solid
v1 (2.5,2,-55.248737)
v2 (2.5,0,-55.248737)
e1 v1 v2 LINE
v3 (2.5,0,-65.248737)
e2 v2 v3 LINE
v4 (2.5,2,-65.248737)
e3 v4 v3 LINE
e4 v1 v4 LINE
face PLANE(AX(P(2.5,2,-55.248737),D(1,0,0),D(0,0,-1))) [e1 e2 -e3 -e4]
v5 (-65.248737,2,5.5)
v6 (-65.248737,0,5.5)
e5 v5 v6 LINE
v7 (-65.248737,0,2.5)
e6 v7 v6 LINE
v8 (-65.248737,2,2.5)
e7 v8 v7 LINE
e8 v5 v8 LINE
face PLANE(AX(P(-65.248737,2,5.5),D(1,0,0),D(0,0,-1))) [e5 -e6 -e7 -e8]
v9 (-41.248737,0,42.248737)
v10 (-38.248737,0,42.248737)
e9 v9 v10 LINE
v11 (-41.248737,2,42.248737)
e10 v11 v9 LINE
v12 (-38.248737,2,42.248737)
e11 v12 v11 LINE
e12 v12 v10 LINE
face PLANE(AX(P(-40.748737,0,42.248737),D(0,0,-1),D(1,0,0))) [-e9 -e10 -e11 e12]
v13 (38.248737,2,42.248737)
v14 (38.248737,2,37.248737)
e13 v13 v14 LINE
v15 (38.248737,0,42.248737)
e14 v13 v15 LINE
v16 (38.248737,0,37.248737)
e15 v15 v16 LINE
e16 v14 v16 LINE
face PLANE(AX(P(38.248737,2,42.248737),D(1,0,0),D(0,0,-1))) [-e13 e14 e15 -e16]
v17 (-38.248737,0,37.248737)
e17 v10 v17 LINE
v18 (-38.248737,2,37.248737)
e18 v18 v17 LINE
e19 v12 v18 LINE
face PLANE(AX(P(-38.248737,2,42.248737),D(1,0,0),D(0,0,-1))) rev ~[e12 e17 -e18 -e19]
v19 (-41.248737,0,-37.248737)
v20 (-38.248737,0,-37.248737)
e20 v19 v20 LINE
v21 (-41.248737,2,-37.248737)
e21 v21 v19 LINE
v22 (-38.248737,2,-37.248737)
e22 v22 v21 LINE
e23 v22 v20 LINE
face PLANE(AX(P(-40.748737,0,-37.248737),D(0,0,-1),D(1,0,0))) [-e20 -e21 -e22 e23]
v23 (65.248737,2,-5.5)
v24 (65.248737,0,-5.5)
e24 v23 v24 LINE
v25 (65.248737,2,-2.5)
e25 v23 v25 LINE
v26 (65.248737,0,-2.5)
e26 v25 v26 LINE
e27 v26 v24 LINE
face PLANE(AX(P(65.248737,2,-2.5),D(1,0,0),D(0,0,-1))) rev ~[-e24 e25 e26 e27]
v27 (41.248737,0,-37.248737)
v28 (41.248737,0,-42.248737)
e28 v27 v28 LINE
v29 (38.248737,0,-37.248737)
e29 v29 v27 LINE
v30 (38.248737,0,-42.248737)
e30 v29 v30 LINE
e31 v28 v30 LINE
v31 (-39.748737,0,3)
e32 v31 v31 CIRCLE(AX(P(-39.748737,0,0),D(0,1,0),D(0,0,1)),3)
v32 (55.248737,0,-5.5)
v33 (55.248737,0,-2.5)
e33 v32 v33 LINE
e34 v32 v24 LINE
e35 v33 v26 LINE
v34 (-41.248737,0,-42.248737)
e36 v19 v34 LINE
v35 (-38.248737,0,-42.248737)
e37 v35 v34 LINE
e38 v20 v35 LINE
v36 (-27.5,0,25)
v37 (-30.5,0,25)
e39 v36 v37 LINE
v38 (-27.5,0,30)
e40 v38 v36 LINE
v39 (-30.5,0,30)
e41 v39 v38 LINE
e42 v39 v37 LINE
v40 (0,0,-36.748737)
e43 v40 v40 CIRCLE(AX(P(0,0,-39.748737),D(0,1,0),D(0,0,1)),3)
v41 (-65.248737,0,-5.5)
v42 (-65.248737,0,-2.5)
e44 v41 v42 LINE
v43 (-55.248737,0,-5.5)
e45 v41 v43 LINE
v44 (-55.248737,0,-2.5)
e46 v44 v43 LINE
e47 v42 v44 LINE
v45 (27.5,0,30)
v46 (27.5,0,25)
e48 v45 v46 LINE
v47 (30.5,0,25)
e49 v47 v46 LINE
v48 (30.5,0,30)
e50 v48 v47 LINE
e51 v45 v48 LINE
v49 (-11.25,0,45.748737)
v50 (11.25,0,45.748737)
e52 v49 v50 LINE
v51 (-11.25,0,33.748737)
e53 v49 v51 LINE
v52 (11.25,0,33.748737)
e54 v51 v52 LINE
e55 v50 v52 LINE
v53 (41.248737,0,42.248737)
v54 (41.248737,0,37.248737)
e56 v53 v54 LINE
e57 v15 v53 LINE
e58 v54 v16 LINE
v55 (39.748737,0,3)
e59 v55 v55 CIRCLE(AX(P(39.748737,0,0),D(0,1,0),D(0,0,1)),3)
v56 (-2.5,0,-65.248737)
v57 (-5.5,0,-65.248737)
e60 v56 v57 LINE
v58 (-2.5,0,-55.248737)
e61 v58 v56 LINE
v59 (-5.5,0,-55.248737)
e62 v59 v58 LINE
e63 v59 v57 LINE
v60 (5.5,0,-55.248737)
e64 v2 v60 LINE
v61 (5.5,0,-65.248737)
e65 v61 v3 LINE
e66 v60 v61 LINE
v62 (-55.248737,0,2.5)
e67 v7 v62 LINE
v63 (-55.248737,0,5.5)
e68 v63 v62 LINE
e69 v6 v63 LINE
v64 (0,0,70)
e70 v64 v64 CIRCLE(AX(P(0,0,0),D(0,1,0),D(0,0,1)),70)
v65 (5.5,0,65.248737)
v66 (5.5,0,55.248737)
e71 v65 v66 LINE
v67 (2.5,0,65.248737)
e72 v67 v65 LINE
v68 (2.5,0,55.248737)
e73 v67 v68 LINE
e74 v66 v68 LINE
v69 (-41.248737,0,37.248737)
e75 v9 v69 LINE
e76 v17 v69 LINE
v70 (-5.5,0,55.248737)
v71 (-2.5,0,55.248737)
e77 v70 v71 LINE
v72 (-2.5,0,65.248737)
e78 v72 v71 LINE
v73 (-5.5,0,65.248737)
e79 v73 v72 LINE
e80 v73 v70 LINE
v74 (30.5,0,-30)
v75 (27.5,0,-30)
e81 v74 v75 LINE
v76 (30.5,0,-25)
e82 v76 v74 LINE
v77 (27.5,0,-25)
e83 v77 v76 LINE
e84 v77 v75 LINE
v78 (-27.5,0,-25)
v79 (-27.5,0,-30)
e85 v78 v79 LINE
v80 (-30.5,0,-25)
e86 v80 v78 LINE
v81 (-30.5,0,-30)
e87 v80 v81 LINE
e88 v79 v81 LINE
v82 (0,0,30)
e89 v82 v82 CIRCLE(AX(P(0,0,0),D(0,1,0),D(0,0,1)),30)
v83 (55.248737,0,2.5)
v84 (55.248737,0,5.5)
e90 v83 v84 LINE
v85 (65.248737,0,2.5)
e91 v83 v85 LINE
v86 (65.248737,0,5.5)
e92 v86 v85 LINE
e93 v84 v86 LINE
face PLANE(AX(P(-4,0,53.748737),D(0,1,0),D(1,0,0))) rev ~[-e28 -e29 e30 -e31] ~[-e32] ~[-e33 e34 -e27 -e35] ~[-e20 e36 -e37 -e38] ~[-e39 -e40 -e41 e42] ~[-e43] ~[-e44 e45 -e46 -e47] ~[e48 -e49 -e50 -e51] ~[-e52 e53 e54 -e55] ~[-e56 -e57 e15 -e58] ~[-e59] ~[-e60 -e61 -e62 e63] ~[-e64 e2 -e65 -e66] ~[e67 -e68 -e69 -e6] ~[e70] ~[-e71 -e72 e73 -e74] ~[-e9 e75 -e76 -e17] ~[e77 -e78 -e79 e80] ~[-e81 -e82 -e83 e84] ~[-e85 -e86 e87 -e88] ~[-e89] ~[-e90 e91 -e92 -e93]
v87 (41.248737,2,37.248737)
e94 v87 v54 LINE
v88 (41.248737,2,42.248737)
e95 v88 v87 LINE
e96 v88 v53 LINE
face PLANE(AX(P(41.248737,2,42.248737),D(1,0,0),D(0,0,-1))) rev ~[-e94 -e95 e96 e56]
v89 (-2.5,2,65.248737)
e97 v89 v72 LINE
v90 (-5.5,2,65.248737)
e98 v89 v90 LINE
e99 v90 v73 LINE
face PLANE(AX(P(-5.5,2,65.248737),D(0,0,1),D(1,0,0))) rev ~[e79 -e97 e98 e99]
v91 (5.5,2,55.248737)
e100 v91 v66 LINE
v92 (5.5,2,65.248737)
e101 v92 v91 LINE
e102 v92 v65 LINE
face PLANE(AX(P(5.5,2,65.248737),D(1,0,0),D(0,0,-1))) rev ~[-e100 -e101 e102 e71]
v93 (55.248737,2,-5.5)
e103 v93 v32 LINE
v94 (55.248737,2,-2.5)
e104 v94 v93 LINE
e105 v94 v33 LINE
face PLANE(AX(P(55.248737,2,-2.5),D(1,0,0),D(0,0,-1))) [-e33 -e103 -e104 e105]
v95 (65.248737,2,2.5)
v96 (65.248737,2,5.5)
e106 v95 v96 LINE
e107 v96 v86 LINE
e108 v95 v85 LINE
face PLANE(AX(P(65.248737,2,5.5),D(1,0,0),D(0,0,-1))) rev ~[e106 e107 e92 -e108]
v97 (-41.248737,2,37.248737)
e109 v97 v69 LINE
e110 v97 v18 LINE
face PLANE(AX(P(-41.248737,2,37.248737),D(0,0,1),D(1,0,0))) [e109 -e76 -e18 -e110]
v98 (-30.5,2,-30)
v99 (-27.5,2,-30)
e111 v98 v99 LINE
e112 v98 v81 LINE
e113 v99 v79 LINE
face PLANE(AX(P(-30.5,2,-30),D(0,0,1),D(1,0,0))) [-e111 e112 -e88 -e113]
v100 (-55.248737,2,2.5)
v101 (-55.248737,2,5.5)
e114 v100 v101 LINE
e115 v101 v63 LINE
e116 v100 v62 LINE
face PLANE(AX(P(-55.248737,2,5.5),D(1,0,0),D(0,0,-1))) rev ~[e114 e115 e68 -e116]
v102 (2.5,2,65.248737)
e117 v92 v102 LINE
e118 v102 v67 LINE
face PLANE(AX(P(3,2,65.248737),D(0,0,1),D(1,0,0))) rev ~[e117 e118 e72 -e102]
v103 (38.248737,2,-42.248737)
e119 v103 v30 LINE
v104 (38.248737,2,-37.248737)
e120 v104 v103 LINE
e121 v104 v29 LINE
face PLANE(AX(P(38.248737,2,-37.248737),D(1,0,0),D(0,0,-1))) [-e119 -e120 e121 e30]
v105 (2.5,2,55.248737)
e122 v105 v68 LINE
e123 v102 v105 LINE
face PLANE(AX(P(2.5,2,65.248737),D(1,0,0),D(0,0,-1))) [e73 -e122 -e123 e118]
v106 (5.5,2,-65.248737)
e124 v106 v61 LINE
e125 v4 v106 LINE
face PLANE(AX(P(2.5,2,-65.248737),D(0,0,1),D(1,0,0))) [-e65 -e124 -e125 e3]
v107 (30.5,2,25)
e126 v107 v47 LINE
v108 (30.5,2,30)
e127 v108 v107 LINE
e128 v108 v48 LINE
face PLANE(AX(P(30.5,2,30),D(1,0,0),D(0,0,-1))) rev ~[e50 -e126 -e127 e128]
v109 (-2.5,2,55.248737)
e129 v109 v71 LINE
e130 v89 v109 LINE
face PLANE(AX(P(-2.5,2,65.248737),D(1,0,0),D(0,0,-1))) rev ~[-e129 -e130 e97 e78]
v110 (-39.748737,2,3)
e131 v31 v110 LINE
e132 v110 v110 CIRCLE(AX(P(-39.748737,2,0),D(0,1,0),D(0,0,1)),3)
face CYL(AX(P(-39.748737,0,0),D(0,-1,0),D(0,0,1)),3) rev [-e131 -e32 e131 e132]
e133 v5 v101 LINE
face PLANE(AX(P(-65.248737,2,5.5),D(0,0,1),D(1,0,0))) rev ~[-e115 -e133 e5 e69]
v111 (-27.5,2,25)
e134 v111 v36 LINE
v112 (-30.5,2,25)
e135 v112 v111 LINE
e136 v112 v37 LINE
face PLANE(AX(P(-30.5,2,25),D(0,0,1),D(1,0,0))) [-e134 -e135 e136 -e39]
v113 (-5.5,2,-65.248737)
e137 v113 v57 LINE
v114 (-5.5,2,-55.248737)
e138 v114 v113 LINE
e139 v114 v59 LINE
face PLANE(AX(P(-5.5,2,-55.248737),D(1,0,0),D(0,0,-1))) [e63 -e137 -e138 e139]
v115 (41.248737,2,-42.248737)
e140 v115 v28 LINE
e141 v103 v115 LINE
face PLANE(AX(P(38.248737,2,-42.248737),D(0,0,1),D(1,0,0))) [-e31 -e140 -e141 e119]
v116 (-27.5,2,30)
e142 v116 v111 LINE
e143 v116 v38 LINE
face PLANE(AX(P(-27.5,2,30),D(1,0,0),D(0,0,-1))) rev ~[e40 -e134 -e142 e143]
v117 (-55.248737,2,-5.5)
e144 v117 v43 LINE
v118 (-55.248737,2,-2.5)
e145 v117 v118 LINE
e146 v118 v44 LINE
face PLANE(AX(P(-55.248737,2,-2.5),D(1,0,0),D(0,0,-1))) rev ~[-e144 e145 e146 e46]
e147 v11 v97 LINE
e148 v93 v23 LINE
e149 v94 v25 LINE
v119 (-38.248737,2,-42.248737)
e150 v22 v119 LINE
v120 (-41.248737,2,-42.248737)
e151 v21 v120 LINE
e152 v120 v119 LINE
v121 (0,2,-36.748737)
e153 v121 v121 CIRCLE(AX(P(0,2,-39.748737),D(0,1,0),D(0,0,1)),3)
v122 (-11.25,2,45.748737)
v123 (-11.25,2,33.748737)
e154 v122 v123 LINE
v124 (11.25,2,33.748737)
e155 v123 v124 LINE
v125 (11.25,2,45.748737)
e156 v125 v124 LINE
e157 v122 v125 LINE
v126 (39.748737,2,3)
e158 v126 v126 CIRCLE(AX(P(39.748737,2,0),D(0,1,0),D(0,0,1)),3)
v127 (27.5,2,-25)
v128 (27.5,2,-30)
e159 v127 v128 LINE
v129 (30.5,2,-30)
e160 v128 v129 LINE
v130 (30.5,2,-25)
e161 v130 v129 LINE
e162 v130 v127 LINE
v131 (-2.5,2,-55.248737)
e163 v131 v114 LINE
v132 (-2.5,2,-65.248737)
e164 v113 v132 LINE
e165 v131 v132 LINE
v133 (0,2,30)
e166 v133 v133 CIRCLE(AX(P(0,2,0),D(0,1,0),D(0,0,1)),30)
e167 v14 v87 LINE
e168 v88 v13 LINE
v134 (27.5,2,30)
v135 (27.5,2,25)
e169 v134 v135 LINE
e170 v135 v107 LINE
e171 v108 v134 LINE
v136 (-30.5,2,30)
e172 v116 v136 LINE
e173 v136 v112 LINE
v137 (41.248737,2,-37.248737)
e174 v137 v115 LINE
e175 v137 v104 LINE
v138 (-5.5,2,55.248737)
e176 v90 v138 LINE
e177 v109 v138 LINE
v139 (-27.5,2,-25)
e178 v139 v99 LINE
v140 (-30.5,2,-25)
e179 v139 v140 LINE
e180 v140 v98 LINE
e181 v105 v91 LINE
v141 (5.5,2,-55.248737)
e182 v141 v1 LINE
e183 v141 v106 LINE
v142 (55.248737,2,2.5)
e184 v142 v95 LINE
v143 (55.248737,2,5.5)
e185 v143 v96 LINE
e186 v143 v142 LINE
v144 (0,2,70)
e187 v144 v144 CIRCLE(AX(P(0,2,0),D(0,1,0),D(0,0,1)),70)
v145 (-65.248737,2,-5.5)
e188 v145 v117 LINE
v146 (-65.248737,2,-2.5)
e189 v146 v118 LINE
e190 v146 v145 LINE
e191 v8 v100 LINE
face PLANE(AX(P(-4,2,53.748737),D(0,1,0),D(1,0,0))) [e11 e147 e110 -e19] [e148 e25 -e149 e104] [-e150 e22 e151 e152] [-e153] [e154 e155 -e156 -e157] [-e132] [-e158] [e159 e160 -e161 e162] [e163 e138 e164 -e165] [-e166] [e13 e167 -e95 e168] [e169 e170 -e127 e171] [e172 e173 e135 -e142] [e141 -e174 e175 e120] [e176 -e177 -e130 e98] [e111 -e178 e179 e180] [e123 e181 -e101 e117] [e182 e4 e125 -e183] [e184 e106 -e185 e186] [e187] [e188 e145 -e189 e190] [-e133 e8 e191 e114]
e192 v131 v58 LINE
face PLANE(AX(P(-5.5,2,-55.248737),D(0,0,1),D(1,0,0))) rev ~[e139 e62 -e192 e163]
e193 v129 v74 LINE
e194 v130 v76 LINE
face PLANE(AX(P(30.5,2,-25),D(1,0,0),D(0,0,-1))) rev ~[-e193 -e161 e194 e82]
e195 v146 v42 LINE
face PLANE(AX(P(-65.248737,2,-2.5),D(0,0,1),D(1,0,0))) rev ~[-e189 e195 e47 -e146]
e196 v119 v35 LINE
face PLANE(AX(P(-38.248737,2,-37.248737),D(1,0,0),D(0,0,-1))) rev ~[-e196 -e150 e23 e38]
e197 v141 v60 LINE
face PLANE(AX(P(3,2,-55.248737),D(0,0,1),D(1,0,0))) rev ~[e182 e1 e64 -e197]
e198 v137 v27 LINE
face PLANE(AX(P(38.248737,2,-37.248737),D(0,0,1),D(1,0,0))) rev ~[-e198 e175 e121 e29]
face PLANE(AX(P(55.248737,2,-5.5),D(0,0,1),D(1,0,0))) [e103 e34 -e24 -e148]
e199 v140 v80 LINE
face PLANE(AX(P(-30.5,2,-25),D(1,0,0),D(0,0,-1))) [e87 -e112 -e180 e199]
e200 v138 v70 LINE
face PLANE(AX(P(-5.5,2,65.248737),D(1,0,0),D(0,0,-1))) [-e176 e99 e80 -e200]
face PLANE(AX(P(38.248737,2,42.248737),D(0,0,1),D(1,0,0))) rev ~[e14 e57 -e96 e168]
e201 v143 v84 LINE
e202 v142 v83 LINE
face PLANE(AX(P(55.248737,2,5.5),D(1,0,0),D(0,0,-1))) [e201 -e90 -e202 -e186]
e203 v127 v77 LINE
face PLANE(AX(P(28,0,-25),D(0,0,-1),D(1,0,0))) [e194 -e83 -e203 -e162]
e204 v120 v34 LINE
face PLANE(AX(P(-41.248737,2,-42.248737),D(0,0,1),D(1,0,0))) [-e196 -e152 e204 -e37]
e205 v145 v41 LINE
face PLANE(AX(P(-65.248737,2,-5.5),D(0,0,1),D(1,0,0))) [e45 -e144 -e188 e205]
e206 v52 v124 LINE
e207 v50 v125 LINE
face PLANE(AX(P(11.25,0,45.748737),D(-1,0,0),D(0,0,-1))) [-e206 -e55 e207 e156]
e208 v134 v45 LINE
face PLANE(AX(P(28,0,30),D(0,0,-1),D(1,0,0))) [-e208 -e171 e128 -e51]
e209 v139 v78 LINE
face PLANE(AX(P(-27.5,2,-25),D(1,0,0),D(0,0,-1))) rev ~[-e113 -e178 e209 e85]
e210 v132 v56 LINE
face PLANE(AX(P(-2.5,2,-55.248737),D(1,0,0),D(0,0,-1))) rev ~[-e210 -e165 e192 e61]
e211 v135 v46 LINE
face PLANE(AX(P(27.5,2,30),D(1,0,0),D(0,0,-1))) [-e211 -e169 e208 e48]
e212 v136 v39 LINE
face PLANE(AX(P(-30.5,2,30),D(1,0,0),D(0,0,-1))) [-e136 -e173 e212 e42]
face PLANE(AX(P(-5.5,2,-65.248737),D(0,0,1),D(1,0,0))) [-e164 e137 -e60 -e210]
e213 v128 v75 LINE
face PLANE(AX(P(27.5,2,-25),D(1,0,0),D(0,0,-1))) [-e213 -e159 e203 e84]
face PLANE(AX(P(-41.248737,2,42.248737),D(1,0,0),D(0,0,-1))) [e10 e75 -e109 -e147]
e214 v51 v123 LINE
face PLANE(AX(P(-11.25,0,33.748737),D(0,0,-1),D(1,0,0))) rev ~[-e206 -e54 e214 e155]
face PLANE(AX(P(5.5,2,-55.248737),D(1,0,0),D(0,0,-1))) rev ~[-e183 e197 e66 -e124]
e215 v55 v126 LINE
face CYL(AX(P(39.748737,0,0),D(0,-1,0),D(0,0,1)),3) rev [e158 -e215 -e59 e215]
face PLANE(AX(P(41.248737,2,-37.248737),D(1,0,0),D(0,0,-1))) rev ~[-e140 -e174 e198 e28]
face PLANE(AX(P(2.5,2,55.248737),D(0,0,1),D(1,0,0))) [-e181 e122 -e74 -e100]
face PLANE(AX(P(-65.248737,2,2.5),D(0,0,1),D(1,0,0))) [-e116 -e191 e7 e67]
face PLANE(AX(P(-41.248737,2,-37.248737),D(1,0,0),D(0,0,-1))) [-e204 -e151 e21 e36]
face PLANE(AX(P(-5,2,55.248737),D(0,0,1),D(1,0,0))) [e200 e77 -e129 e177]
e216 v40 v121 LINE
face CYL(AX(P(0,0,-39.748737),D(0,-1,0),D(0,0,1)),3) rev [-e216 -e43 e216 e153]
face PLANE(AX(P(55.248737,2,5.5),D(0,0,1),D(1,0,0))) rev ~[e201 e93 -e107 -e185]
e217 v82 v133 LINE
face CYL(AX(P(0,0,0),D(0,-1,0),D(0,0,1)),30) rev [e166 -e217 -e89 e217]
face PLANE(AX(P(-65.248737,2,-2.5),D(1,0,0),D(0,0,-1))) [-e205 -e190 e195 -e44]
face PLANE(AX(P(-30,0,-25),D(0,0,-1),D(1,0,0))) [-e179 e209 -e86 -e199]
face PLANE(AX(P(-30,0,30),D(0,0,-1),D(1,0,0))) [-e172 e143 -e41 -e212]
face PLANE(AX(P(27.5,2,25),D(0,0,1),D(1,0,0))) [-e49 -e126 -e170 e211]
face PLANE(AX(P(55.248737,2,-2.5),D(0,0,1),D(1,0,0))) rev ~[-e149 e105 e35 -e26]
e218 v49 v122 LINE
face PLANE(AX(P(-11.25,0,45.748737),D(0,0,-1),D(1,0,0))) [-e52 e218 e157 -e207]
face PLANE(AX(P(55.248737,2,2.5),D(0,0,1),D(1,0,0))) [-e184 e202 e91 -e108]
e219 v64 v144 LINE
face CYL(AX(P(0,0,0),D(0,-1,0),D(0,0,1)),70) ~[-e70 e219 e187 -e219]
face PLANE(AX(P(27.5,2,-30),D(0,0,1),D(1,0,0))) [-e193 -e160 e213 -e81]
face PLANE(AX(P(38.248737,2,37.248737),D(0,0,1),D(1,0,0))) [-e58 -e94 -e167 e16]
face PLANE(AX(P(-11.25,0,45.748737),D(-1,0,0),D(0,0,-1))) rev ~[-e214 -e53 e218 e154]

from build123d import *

# Parameters (mm, degrees)
SKETCH1_R                   = 70
SKETCH1_R_2                 = 30
SKETCH1_R_3                 = 3
SKETCH1_W                   = 2
SKETCH1_H                   = 5
SKETCH1_W_2                 = 22.5
SKETCH1_H_2                 = 12
SKETCH1_W_3                 = 5
SKETCH1_H_3                 = 2
Y_KSEKLIK_EKSTR_ZYON1_DEPTH = 2
SKETCH3_W                   = 2
SKETCH3_H                   = 2
SKETCH3_W_2                 = 3
BOSS_EXTRUDE1_DEPTH         = 2
SKETCH5_W                   = 5
SKETCH5_H                   = 2
CUT_EXTRUDE1_DEPTH          = 2
SKETCH6_W                   = 2
SKETCH6_H                   = 2
SKETCH6_W_2                 = 3
BOSS_EXTRUDE3_DEPTH         = 2
SKETCH8_W                   = 5
SKETCH8_H                   = 2
CUT_EXTRUDE2_DEPTH          = 2
SKETCH9_W                   = 2
SKETCH9_H                   = 2
SKETCH9_H_2                 = 3
BOSS_EXTRUDE4_DEPTH         = 2
SKETCH10_W                  = 2
SKETCH10_H                  = 2
SKETCH10_H_2                = 3
BOSS_EXTRUDE5_DEPTH         = 2
SKETCH12_W                  = 2
SKETCH12_H                  = 5
CUT_EXTRUDE4_DEPTH          = 2
SKETCH13_W                  = 2
SKETCH13_H                  = 5
CUT_EXTRUDE5_DEPTH          = 2
SKETCH14_W                  = 3
SKETCH14_H                  = 2
SKETCH14_W_2                = 2
BOSS_EXTRUDE6_DEPTH         = 2
SKETCH15_W                  = 5
SKETCH15_H                  = 2
CUT_EXTRUDE6_DEPTH          = 2
SKETCH16_W                  = 3
SKETCH16_H                  = 2
SKETCH16_W_2                = 2
BOSS_EXTRUDE9_DEPTH         = 2
SKETCH17_W                  = 5
SKETCH17_H                  = 2
CUT_EXTRUDE7_DEPTH          = 2
SKETCH18_W                  = 2
SKETCH18_H                  = 3
SKETCH18_H_2                = 2
BOSS_EXTRUDE10_DEPTH        = 2
SKETCH19_W                  = 2
SKETCH19_H                  = 5
CUT_EXTRUDE8_DEPTH          = 2
SKETCH20_W                  = 3
SKETCH20_H                  = 10
SKETCH20_W_2                = 10
SKETCH20_H_2                = 3
SKETCH20_H_3                = 5
CUT_EXTRUDE9_DEPTH          = 2


with BuildPart() as part:
    # Sketch1 → Yükseklik-Ekstrüzyon1 (new body)
    with BuildSketch(Plane(origin=(0, 0, 0), x_dir=(1, 0, 0), z_dir=(0, 1, 0))):
        with Locations(Location((0, 0, 0), (0, 0, 270))):
            Circle(SKETCH1_R)
        with Locations(Location((0, 0, 0), (0, 0, 270))):
            Circle(SKETCH1_R_2, mode=Mode.SUBTRACT)
        with Locations(Location((39.748737342, 0, 0), (0, 0, 270))):
            Circle(SKETCH1_R_3, mode=Mode.SUBTRACT)
        with Locations(Location((-39.748737342, 0, 0), (0, 0, 270))):
            Circle(SKETCH1_R_3, mode=Mode.SUBTRACT)
        with Locations(Location((0, 39.748737342, 0), (0, 0, 270))):
            Circle(SKETCH1_R_3, mode=Mode.SUBTRACT)
        with Locations((-29, 27.5)):
            Rectangle(SKETCH1_W, SKETCH1_H, mode=Mode.SUBTRACT)
        with Locations((29, 27.5)):
            Rectangle(SKETCH1_W, SKETCH1_H, mode=Mode.SUBTRACT)
        with Locations((-29, -27.5)):
            Rectangle(SKETCH1_W, SKETCH1_H, mode=Mode.SUBTRACT)
        with Locations((29, -27.5)):
            Rectangle(SKETCH1_W, SKETCH1_H, mode=Mode.SUBTRACT)
        with Locations((-39.748737342, 39.748737342)):
            Rectangle(SKETCH1_W, SKETCH1_H, mode=Mode.SUBTRACT)
        with Locations((39.748737342, 39.748737342)):
            Rectangle(SKETCH1_W, SKETCH1_H, mode=Mode.SUBTRACT)
        with Locations((39.748737342, -39.748737342)):
            Rectangle(SKETCH1_W, SKETCH1_H, mode=Mode.SUBTRACT)
        with Locations((-39.748737342, -39.748737342)):
            Rectangle(SKETCH1_W, SKETCH1_H, mode=Mode.SUBTRACT)
        with Locations((0, -39.748737342)):
            Rectangle(SKETCH1_W_2, SKETCH1_H_2, mode=Mode.SUBTRACT)
        with Locations((-64.748737342, 4)):
            Rectangle(SKETCH1_W_3, SKETCH1_H_3, mode=Mode.SUBTRACT)
        with Locations((-64.748737342, -4)):
            Rectangle(SKETCH1_W_3, SKETCH1_H_3, mode=Mode.SUBTRACT)
        with Locations((-54.748737342, -4)):
            Rectangle(SKETCH1_W_3, SKETCH1_H_3, mode=Mode.SUBTRACT)
        with Locations((-54.748737342, 4)):
            Rectangle(SKETCH1_W_3, SKETCH1_H_3, mode=Mode.SUBTRACT)
        with Locations((-4, 64.748737342)):
            Rectangle(SKETCH1_W, SKETCH1_H, mode=Mode.SUBTRACT)
        with Locations((-4, 54.748737342)):
            Rectangle(SKETCH1_W, SKETCH1_H, mode=Mode.SUBTRACT)
        with Locations((4, 54.748737342)):
            Rectangle(SKETCH1_W, SKETCH1_H, mode=Mode.SUBTRACT)
        with Locations((4, 64.748737342)):
            Rectangle(SKETCH1_W, SKETCH1_H, mode=Mode.SUBTRACT)
        with Locations((54.748737342, 4)):
            Rectangle(SKETCH1_W_3, SKETCH1_H_3, mode=Mode.SUBTRACT)
        with Locations((54.748737342, -4)):
            Rectangle(SKETCH1_W_3, SKETCH1_H_3, mode=Mode.SUBTRACT)
        with Locations((64.748737342, 4)):
            Rectangle(SKETCH1_W_3, SKETCH1_H_3, mode=Mode.SUBTRACT)
        with Locations((64.748737342, -4)):
            Rectangle(SKETCH1_W_3, SKETCH1_H_3, mode=Mode.SUBTRACT)
        with Locations((-4, -54.748737342)):
            Rectangle(SKETCH1_W, SKETCH1_H, mode=Mode.SUBTRACT)
        with Locations((4, -54.748737342)):
            Rectangle(SKETCH1_W, SKETCH1_H, mode=Mode.SUBTRACT)
        with Locations((4, -64.748737342)):
            Rectangle(SKETCH1_W, SKETCH1_H, mode=Mode.SUBTRACT)
        with Locations((-4, -64.748737342)):
            Rectangle(SKETCH1_W, SKETCH1_H, mode=Mode.SUBTRACT)
    extrude(amount=Y_KSEKLIK_EKSTR_ZYON1_DEPTH)

    # Sketch3 → Boss-Extrude1 (add)
    with BuildSketch(Plane(origin=(0, 2, 0), x_dir=(1, 0, 0), z_dir=(0, 1, 0))):
        with Locations((-66.248737342, 4)):
            Rectangle(SKETCH3_W, SKETCH3_H)
        with Locations((-53.748737342, 4)):
            Rectangle(SKETCH3_W_2, SKETCH3_H)
    extrude(amount=-BOSS_EXTRUDE1_DEPTH)

    # Sketch5 → Cut-Extrude1 (cut)
    with BuildSketch(Plane(origin=(0, 2, 0), x_dir=(1, 0, 0), z_dir=(0, 1, 0))):
        with Locations((-59.748737342, 4)):
            Rectangle(SKETCH5_W, SKETCH5_H)
    extrude(amount=-CUT_EXTRUDE1_DEPTH, mode=Mode.SUBTRACT)

    # Sketch6 → Boss-Extrude3 (add)
    with BuildSketch(Plane(origin=(0, 2, 0), x_dir=(1, 0, 0), z_dir=(0, 1, 0))):
        with Locations((-66.248737342, -4)):
            Rectangle(SKETCH6_W, SKETCH6_H)
        with Locations((-53.748737342, -4)):
            Rectangle(SKETCH6_W_2, SKETCH6_H)
    extrude(amount=-BOSS_EXTRUDE3_DEPTH)

    # Sketch8 → Cut-Extrude2 (cut)
    with BuildSketch(Plane(origin=(0, 2, 0), x_dir=(1, 0, 0), z_dir=(0, 1, 0))):
        with Locations((-59.748737342, -4)):
            Rectangle(SKETCH8_W, SKETCH8_H)
    extrude(amount=-CUT_EXTRUDE2_DEPTH, mode=Mode.SUBTRACT)

    # Sketch9 → Boss-Extrude4 (add)
    with BuildSketch(Plane(origin=(0, 2, 0), x_dir=(1, 0, 0), z_dir=(0, 1, 0))):
        with Locations((4, 66.248737342)):
            Rectangle(SKETCH9_W, SKETCH9_H)
        with Locations((4, 53.748737342)):
            Rectangle(SKETCH9_W, SKETCH9_H_2)
    extrude(amount=-BOSS_EXTRUDE4_DEPTH)

    # Sketch10 → Boss-Extrude5 (add)
    with BuildSketch(Plane(origin=(0, 2, 0), x_dir=(1, 0, 0), z_dir=(0, 1, 0))):
        with Locations((-4, 66.248737342)):
            Rectangle(SKETCH10_W, SKETCH10_H)
        with Locations((-4, 53.748737342)):
            Rectangle(SKETCH10_W, SKETCH10_H_2)
    extrude(amount=-BOSS_EXTRUDE5_DEPTH)

    # Sketch12 → Cut-Extrude4 (cut)
    with BuildSketch(Plane(origin=(0, 2, 0), x_dir=(1, 0, 0), z_dir=(0, 1, 0))):
        with Locations((-4, 59.748737342)):
            Rectangle(SKETCH12_W, SKETCH12_H)
    extrude(amount=-CUT_EXTRUDE4_DEPTH, mode=Mode.SUBTRACT)

    # Sketch13 → Cut-Extrude5 (cut)
    with BuildSketch(Plane(origin=(0, 2, 0), x_dir=(1, 0, 0), z_dir=(0, 1, 0))):
        with Locations((4, 59.748737342)):
            Rectangle(SKETCH13_W, SKETCH13_H)
    extrude(amount=-CUT_EXTRUDE5_DEPTH, mode=Mode.SUBTRACT)

    # Sketch14 → Boss-Extrude6 (add)
    with BuildSketch(Plane(origin=(0, 2, 0), x_dir=(1, 0, 0), z_dir=(0, 1, 0))):
        with Locations((53.748737342, 4)):
            Rectangle(SKETCH14_W, SKETCH14_H)
        with Locations((66.248737342, 4)):
            Rectangle(SKETCH14_W_2, SKETCH14_H)
    extrude(amount=-BOSS_EXTRUDE6_DEPTH)

    # Sketch15 → Cut-Extrude6 (cut)
    with BuildSketch(Plane(origin=(0, 2, 0), x_dir=(1, 0, 0), z_dir=(0, 1, 0))):
        with Locations((59.748737342, 4)):
            Rectangle(SKETCH15_W, SKETCH15_H)
    extrude(amount=-CUT_EXTRUDE6_DEPTH, mode=Mode.SUBTRACT)

    # Sketch16 → Boss-Extrude9 (add)
    with BuildSketch(Plane(origin=(0, 2, 0), x_dir=(1, 0, 0), z_dir=(0, 1, 0))):
        with Locations((53.748737342, -4)):
            Rectangle(SKETCH16_W, SKETCH16_H)
        with Locations((66.248737342, -4)):
            Rectangle(SKETCH16_W_2, SKETCH16_H)
    extrude(amount=-BOSS_EXTRUDE9_DEPTH)

    # Sketch17 → Cut-Extrude7 (cut)
    with BuildSketch(Plane(origin=(0, 2, 0), x_dir=(1, 0, 0), z_dir=(0, 1, 0))):
        with Locations((59.748737342, -4)):
            Rectangle(SKETCH17_W, SKETCH17_H)
    extrude(amount=-CUT_EXTRUDE7_DEPTH, mode=Mode.SUBTRACT)

    # Sketch18 → Boss-Extrude10 (add)
    with BuildSketch(Plane(origin=(0, 2, 0), x_dir=(1, 0, 0), z_dir=(0, 1, 0))):
        with Locations((-4, -53.748737342)):
            Rectangle(SKETCH18_W, SKETCH18_H)
        with Locations((-4, -66.248737342)):
            Rectangle(SKETCH18_W, SKETCH18_H_2)
        with Locations((4, -66.248737342)):
            Rectangle(SKETCH18_W, SKETCH18_H_2)
        with Locations((4, -53.748737342)):
            Rectangle(SKETCH18_W, SKETCH18_H)
    extrude(amount=-BOSS_EXTRUDE10_DEPTH)

    # Sketch19 → Cut-Extrude8 (cut)
    with BuildSketch(Plane(origin=(0, 2, 0), x_dir=(1, 0, 0), z_dir=(0, 1, 0))):
        with Locations((4, -59.748737342)):
            Rectangle(SKETCH19_W, SKETCH19_H)
        with Locations((-4, -59.748737342)):
            Rectangle(SKETCH19_W, SKETCH19_H)
    extrude(amount=-CUT_EXTRUDE8_DEPTH, mode=Mode.SUBTRACT)

    # Sketch20 → Cut-Extrude9 (cut)
    with BuildSketch(Plane(origin=(0, 2, 0), x_dir=(1, 0, 0), z_dir=(0, 1, 0))):
        with Locations((-4, 60.248737342)):
            Rectangle(SKETCH20_W, SKETCH20_H)
        with Locations((4, 60.248737342)):
            Rectangle(SKETCH20_W, SKETCH20_H)
        with Locations((60.248737342, 4)):
            Rectangle(SKETCH20_W_2, SKETCH20_H_2)
        with Locations((60.248737342, -4)):
            Rectangle(SKETCH20_W_2, SKETCH20_H_2)
        with Locations((4, -60.248737342)):
            Rectangle(SKETCH20_W, SKETCH20_H)
        with Locations((-4, -60.248737342)):
            Rectangle(SKETCH20_W, SKETCH20_H)
        with Locations((-60.248737342, 4)):
            Rectangle(SKETCH20_W_2, SKETCH20_H_2)
        with Locations((-60.248737342, -4)):
            Rectangle(SKETCH20_W_2, SKETCH20_H_2)
        with Locations((-29, 27.5)):
            Rectangle(SKETCH20_W, SKETCH20_H_3)
        with Locations((-39.748737342, 39.748737342)):
            Rectangle(SKETCH20_W, SKETCH20_H_3)
        with Locations((29, 27.5)):
            Rectangle(SKETCH20_W, SKETCH20_H_3)
        with Locations((39.748737342, 39.748737342)):
            Rectangle(SKETCH20_W, SKETCH20_H_3)
        with Locations((29, -27.5)):
            Rectangle(SKETCH20_W, SKETCH20_H_3)
        with Locations((39.748737342, -39.748737342)):
            Rectangle(SKETCH20_W, SKETCH20_H_3)
        with Locations((-29, -27.5)):
            Rectangle(SKETCH20_W, SKETCH20_H_3)
        with Locations((-39.748737342, -39.748737342)):
            Rectangle(SKETCH20_W, SKETCH20_H_3)
    extrude(amount=-CUT_EXTRUDE9_DEPTH, mode=Mode.SUBTRACT)


solid = part.part
